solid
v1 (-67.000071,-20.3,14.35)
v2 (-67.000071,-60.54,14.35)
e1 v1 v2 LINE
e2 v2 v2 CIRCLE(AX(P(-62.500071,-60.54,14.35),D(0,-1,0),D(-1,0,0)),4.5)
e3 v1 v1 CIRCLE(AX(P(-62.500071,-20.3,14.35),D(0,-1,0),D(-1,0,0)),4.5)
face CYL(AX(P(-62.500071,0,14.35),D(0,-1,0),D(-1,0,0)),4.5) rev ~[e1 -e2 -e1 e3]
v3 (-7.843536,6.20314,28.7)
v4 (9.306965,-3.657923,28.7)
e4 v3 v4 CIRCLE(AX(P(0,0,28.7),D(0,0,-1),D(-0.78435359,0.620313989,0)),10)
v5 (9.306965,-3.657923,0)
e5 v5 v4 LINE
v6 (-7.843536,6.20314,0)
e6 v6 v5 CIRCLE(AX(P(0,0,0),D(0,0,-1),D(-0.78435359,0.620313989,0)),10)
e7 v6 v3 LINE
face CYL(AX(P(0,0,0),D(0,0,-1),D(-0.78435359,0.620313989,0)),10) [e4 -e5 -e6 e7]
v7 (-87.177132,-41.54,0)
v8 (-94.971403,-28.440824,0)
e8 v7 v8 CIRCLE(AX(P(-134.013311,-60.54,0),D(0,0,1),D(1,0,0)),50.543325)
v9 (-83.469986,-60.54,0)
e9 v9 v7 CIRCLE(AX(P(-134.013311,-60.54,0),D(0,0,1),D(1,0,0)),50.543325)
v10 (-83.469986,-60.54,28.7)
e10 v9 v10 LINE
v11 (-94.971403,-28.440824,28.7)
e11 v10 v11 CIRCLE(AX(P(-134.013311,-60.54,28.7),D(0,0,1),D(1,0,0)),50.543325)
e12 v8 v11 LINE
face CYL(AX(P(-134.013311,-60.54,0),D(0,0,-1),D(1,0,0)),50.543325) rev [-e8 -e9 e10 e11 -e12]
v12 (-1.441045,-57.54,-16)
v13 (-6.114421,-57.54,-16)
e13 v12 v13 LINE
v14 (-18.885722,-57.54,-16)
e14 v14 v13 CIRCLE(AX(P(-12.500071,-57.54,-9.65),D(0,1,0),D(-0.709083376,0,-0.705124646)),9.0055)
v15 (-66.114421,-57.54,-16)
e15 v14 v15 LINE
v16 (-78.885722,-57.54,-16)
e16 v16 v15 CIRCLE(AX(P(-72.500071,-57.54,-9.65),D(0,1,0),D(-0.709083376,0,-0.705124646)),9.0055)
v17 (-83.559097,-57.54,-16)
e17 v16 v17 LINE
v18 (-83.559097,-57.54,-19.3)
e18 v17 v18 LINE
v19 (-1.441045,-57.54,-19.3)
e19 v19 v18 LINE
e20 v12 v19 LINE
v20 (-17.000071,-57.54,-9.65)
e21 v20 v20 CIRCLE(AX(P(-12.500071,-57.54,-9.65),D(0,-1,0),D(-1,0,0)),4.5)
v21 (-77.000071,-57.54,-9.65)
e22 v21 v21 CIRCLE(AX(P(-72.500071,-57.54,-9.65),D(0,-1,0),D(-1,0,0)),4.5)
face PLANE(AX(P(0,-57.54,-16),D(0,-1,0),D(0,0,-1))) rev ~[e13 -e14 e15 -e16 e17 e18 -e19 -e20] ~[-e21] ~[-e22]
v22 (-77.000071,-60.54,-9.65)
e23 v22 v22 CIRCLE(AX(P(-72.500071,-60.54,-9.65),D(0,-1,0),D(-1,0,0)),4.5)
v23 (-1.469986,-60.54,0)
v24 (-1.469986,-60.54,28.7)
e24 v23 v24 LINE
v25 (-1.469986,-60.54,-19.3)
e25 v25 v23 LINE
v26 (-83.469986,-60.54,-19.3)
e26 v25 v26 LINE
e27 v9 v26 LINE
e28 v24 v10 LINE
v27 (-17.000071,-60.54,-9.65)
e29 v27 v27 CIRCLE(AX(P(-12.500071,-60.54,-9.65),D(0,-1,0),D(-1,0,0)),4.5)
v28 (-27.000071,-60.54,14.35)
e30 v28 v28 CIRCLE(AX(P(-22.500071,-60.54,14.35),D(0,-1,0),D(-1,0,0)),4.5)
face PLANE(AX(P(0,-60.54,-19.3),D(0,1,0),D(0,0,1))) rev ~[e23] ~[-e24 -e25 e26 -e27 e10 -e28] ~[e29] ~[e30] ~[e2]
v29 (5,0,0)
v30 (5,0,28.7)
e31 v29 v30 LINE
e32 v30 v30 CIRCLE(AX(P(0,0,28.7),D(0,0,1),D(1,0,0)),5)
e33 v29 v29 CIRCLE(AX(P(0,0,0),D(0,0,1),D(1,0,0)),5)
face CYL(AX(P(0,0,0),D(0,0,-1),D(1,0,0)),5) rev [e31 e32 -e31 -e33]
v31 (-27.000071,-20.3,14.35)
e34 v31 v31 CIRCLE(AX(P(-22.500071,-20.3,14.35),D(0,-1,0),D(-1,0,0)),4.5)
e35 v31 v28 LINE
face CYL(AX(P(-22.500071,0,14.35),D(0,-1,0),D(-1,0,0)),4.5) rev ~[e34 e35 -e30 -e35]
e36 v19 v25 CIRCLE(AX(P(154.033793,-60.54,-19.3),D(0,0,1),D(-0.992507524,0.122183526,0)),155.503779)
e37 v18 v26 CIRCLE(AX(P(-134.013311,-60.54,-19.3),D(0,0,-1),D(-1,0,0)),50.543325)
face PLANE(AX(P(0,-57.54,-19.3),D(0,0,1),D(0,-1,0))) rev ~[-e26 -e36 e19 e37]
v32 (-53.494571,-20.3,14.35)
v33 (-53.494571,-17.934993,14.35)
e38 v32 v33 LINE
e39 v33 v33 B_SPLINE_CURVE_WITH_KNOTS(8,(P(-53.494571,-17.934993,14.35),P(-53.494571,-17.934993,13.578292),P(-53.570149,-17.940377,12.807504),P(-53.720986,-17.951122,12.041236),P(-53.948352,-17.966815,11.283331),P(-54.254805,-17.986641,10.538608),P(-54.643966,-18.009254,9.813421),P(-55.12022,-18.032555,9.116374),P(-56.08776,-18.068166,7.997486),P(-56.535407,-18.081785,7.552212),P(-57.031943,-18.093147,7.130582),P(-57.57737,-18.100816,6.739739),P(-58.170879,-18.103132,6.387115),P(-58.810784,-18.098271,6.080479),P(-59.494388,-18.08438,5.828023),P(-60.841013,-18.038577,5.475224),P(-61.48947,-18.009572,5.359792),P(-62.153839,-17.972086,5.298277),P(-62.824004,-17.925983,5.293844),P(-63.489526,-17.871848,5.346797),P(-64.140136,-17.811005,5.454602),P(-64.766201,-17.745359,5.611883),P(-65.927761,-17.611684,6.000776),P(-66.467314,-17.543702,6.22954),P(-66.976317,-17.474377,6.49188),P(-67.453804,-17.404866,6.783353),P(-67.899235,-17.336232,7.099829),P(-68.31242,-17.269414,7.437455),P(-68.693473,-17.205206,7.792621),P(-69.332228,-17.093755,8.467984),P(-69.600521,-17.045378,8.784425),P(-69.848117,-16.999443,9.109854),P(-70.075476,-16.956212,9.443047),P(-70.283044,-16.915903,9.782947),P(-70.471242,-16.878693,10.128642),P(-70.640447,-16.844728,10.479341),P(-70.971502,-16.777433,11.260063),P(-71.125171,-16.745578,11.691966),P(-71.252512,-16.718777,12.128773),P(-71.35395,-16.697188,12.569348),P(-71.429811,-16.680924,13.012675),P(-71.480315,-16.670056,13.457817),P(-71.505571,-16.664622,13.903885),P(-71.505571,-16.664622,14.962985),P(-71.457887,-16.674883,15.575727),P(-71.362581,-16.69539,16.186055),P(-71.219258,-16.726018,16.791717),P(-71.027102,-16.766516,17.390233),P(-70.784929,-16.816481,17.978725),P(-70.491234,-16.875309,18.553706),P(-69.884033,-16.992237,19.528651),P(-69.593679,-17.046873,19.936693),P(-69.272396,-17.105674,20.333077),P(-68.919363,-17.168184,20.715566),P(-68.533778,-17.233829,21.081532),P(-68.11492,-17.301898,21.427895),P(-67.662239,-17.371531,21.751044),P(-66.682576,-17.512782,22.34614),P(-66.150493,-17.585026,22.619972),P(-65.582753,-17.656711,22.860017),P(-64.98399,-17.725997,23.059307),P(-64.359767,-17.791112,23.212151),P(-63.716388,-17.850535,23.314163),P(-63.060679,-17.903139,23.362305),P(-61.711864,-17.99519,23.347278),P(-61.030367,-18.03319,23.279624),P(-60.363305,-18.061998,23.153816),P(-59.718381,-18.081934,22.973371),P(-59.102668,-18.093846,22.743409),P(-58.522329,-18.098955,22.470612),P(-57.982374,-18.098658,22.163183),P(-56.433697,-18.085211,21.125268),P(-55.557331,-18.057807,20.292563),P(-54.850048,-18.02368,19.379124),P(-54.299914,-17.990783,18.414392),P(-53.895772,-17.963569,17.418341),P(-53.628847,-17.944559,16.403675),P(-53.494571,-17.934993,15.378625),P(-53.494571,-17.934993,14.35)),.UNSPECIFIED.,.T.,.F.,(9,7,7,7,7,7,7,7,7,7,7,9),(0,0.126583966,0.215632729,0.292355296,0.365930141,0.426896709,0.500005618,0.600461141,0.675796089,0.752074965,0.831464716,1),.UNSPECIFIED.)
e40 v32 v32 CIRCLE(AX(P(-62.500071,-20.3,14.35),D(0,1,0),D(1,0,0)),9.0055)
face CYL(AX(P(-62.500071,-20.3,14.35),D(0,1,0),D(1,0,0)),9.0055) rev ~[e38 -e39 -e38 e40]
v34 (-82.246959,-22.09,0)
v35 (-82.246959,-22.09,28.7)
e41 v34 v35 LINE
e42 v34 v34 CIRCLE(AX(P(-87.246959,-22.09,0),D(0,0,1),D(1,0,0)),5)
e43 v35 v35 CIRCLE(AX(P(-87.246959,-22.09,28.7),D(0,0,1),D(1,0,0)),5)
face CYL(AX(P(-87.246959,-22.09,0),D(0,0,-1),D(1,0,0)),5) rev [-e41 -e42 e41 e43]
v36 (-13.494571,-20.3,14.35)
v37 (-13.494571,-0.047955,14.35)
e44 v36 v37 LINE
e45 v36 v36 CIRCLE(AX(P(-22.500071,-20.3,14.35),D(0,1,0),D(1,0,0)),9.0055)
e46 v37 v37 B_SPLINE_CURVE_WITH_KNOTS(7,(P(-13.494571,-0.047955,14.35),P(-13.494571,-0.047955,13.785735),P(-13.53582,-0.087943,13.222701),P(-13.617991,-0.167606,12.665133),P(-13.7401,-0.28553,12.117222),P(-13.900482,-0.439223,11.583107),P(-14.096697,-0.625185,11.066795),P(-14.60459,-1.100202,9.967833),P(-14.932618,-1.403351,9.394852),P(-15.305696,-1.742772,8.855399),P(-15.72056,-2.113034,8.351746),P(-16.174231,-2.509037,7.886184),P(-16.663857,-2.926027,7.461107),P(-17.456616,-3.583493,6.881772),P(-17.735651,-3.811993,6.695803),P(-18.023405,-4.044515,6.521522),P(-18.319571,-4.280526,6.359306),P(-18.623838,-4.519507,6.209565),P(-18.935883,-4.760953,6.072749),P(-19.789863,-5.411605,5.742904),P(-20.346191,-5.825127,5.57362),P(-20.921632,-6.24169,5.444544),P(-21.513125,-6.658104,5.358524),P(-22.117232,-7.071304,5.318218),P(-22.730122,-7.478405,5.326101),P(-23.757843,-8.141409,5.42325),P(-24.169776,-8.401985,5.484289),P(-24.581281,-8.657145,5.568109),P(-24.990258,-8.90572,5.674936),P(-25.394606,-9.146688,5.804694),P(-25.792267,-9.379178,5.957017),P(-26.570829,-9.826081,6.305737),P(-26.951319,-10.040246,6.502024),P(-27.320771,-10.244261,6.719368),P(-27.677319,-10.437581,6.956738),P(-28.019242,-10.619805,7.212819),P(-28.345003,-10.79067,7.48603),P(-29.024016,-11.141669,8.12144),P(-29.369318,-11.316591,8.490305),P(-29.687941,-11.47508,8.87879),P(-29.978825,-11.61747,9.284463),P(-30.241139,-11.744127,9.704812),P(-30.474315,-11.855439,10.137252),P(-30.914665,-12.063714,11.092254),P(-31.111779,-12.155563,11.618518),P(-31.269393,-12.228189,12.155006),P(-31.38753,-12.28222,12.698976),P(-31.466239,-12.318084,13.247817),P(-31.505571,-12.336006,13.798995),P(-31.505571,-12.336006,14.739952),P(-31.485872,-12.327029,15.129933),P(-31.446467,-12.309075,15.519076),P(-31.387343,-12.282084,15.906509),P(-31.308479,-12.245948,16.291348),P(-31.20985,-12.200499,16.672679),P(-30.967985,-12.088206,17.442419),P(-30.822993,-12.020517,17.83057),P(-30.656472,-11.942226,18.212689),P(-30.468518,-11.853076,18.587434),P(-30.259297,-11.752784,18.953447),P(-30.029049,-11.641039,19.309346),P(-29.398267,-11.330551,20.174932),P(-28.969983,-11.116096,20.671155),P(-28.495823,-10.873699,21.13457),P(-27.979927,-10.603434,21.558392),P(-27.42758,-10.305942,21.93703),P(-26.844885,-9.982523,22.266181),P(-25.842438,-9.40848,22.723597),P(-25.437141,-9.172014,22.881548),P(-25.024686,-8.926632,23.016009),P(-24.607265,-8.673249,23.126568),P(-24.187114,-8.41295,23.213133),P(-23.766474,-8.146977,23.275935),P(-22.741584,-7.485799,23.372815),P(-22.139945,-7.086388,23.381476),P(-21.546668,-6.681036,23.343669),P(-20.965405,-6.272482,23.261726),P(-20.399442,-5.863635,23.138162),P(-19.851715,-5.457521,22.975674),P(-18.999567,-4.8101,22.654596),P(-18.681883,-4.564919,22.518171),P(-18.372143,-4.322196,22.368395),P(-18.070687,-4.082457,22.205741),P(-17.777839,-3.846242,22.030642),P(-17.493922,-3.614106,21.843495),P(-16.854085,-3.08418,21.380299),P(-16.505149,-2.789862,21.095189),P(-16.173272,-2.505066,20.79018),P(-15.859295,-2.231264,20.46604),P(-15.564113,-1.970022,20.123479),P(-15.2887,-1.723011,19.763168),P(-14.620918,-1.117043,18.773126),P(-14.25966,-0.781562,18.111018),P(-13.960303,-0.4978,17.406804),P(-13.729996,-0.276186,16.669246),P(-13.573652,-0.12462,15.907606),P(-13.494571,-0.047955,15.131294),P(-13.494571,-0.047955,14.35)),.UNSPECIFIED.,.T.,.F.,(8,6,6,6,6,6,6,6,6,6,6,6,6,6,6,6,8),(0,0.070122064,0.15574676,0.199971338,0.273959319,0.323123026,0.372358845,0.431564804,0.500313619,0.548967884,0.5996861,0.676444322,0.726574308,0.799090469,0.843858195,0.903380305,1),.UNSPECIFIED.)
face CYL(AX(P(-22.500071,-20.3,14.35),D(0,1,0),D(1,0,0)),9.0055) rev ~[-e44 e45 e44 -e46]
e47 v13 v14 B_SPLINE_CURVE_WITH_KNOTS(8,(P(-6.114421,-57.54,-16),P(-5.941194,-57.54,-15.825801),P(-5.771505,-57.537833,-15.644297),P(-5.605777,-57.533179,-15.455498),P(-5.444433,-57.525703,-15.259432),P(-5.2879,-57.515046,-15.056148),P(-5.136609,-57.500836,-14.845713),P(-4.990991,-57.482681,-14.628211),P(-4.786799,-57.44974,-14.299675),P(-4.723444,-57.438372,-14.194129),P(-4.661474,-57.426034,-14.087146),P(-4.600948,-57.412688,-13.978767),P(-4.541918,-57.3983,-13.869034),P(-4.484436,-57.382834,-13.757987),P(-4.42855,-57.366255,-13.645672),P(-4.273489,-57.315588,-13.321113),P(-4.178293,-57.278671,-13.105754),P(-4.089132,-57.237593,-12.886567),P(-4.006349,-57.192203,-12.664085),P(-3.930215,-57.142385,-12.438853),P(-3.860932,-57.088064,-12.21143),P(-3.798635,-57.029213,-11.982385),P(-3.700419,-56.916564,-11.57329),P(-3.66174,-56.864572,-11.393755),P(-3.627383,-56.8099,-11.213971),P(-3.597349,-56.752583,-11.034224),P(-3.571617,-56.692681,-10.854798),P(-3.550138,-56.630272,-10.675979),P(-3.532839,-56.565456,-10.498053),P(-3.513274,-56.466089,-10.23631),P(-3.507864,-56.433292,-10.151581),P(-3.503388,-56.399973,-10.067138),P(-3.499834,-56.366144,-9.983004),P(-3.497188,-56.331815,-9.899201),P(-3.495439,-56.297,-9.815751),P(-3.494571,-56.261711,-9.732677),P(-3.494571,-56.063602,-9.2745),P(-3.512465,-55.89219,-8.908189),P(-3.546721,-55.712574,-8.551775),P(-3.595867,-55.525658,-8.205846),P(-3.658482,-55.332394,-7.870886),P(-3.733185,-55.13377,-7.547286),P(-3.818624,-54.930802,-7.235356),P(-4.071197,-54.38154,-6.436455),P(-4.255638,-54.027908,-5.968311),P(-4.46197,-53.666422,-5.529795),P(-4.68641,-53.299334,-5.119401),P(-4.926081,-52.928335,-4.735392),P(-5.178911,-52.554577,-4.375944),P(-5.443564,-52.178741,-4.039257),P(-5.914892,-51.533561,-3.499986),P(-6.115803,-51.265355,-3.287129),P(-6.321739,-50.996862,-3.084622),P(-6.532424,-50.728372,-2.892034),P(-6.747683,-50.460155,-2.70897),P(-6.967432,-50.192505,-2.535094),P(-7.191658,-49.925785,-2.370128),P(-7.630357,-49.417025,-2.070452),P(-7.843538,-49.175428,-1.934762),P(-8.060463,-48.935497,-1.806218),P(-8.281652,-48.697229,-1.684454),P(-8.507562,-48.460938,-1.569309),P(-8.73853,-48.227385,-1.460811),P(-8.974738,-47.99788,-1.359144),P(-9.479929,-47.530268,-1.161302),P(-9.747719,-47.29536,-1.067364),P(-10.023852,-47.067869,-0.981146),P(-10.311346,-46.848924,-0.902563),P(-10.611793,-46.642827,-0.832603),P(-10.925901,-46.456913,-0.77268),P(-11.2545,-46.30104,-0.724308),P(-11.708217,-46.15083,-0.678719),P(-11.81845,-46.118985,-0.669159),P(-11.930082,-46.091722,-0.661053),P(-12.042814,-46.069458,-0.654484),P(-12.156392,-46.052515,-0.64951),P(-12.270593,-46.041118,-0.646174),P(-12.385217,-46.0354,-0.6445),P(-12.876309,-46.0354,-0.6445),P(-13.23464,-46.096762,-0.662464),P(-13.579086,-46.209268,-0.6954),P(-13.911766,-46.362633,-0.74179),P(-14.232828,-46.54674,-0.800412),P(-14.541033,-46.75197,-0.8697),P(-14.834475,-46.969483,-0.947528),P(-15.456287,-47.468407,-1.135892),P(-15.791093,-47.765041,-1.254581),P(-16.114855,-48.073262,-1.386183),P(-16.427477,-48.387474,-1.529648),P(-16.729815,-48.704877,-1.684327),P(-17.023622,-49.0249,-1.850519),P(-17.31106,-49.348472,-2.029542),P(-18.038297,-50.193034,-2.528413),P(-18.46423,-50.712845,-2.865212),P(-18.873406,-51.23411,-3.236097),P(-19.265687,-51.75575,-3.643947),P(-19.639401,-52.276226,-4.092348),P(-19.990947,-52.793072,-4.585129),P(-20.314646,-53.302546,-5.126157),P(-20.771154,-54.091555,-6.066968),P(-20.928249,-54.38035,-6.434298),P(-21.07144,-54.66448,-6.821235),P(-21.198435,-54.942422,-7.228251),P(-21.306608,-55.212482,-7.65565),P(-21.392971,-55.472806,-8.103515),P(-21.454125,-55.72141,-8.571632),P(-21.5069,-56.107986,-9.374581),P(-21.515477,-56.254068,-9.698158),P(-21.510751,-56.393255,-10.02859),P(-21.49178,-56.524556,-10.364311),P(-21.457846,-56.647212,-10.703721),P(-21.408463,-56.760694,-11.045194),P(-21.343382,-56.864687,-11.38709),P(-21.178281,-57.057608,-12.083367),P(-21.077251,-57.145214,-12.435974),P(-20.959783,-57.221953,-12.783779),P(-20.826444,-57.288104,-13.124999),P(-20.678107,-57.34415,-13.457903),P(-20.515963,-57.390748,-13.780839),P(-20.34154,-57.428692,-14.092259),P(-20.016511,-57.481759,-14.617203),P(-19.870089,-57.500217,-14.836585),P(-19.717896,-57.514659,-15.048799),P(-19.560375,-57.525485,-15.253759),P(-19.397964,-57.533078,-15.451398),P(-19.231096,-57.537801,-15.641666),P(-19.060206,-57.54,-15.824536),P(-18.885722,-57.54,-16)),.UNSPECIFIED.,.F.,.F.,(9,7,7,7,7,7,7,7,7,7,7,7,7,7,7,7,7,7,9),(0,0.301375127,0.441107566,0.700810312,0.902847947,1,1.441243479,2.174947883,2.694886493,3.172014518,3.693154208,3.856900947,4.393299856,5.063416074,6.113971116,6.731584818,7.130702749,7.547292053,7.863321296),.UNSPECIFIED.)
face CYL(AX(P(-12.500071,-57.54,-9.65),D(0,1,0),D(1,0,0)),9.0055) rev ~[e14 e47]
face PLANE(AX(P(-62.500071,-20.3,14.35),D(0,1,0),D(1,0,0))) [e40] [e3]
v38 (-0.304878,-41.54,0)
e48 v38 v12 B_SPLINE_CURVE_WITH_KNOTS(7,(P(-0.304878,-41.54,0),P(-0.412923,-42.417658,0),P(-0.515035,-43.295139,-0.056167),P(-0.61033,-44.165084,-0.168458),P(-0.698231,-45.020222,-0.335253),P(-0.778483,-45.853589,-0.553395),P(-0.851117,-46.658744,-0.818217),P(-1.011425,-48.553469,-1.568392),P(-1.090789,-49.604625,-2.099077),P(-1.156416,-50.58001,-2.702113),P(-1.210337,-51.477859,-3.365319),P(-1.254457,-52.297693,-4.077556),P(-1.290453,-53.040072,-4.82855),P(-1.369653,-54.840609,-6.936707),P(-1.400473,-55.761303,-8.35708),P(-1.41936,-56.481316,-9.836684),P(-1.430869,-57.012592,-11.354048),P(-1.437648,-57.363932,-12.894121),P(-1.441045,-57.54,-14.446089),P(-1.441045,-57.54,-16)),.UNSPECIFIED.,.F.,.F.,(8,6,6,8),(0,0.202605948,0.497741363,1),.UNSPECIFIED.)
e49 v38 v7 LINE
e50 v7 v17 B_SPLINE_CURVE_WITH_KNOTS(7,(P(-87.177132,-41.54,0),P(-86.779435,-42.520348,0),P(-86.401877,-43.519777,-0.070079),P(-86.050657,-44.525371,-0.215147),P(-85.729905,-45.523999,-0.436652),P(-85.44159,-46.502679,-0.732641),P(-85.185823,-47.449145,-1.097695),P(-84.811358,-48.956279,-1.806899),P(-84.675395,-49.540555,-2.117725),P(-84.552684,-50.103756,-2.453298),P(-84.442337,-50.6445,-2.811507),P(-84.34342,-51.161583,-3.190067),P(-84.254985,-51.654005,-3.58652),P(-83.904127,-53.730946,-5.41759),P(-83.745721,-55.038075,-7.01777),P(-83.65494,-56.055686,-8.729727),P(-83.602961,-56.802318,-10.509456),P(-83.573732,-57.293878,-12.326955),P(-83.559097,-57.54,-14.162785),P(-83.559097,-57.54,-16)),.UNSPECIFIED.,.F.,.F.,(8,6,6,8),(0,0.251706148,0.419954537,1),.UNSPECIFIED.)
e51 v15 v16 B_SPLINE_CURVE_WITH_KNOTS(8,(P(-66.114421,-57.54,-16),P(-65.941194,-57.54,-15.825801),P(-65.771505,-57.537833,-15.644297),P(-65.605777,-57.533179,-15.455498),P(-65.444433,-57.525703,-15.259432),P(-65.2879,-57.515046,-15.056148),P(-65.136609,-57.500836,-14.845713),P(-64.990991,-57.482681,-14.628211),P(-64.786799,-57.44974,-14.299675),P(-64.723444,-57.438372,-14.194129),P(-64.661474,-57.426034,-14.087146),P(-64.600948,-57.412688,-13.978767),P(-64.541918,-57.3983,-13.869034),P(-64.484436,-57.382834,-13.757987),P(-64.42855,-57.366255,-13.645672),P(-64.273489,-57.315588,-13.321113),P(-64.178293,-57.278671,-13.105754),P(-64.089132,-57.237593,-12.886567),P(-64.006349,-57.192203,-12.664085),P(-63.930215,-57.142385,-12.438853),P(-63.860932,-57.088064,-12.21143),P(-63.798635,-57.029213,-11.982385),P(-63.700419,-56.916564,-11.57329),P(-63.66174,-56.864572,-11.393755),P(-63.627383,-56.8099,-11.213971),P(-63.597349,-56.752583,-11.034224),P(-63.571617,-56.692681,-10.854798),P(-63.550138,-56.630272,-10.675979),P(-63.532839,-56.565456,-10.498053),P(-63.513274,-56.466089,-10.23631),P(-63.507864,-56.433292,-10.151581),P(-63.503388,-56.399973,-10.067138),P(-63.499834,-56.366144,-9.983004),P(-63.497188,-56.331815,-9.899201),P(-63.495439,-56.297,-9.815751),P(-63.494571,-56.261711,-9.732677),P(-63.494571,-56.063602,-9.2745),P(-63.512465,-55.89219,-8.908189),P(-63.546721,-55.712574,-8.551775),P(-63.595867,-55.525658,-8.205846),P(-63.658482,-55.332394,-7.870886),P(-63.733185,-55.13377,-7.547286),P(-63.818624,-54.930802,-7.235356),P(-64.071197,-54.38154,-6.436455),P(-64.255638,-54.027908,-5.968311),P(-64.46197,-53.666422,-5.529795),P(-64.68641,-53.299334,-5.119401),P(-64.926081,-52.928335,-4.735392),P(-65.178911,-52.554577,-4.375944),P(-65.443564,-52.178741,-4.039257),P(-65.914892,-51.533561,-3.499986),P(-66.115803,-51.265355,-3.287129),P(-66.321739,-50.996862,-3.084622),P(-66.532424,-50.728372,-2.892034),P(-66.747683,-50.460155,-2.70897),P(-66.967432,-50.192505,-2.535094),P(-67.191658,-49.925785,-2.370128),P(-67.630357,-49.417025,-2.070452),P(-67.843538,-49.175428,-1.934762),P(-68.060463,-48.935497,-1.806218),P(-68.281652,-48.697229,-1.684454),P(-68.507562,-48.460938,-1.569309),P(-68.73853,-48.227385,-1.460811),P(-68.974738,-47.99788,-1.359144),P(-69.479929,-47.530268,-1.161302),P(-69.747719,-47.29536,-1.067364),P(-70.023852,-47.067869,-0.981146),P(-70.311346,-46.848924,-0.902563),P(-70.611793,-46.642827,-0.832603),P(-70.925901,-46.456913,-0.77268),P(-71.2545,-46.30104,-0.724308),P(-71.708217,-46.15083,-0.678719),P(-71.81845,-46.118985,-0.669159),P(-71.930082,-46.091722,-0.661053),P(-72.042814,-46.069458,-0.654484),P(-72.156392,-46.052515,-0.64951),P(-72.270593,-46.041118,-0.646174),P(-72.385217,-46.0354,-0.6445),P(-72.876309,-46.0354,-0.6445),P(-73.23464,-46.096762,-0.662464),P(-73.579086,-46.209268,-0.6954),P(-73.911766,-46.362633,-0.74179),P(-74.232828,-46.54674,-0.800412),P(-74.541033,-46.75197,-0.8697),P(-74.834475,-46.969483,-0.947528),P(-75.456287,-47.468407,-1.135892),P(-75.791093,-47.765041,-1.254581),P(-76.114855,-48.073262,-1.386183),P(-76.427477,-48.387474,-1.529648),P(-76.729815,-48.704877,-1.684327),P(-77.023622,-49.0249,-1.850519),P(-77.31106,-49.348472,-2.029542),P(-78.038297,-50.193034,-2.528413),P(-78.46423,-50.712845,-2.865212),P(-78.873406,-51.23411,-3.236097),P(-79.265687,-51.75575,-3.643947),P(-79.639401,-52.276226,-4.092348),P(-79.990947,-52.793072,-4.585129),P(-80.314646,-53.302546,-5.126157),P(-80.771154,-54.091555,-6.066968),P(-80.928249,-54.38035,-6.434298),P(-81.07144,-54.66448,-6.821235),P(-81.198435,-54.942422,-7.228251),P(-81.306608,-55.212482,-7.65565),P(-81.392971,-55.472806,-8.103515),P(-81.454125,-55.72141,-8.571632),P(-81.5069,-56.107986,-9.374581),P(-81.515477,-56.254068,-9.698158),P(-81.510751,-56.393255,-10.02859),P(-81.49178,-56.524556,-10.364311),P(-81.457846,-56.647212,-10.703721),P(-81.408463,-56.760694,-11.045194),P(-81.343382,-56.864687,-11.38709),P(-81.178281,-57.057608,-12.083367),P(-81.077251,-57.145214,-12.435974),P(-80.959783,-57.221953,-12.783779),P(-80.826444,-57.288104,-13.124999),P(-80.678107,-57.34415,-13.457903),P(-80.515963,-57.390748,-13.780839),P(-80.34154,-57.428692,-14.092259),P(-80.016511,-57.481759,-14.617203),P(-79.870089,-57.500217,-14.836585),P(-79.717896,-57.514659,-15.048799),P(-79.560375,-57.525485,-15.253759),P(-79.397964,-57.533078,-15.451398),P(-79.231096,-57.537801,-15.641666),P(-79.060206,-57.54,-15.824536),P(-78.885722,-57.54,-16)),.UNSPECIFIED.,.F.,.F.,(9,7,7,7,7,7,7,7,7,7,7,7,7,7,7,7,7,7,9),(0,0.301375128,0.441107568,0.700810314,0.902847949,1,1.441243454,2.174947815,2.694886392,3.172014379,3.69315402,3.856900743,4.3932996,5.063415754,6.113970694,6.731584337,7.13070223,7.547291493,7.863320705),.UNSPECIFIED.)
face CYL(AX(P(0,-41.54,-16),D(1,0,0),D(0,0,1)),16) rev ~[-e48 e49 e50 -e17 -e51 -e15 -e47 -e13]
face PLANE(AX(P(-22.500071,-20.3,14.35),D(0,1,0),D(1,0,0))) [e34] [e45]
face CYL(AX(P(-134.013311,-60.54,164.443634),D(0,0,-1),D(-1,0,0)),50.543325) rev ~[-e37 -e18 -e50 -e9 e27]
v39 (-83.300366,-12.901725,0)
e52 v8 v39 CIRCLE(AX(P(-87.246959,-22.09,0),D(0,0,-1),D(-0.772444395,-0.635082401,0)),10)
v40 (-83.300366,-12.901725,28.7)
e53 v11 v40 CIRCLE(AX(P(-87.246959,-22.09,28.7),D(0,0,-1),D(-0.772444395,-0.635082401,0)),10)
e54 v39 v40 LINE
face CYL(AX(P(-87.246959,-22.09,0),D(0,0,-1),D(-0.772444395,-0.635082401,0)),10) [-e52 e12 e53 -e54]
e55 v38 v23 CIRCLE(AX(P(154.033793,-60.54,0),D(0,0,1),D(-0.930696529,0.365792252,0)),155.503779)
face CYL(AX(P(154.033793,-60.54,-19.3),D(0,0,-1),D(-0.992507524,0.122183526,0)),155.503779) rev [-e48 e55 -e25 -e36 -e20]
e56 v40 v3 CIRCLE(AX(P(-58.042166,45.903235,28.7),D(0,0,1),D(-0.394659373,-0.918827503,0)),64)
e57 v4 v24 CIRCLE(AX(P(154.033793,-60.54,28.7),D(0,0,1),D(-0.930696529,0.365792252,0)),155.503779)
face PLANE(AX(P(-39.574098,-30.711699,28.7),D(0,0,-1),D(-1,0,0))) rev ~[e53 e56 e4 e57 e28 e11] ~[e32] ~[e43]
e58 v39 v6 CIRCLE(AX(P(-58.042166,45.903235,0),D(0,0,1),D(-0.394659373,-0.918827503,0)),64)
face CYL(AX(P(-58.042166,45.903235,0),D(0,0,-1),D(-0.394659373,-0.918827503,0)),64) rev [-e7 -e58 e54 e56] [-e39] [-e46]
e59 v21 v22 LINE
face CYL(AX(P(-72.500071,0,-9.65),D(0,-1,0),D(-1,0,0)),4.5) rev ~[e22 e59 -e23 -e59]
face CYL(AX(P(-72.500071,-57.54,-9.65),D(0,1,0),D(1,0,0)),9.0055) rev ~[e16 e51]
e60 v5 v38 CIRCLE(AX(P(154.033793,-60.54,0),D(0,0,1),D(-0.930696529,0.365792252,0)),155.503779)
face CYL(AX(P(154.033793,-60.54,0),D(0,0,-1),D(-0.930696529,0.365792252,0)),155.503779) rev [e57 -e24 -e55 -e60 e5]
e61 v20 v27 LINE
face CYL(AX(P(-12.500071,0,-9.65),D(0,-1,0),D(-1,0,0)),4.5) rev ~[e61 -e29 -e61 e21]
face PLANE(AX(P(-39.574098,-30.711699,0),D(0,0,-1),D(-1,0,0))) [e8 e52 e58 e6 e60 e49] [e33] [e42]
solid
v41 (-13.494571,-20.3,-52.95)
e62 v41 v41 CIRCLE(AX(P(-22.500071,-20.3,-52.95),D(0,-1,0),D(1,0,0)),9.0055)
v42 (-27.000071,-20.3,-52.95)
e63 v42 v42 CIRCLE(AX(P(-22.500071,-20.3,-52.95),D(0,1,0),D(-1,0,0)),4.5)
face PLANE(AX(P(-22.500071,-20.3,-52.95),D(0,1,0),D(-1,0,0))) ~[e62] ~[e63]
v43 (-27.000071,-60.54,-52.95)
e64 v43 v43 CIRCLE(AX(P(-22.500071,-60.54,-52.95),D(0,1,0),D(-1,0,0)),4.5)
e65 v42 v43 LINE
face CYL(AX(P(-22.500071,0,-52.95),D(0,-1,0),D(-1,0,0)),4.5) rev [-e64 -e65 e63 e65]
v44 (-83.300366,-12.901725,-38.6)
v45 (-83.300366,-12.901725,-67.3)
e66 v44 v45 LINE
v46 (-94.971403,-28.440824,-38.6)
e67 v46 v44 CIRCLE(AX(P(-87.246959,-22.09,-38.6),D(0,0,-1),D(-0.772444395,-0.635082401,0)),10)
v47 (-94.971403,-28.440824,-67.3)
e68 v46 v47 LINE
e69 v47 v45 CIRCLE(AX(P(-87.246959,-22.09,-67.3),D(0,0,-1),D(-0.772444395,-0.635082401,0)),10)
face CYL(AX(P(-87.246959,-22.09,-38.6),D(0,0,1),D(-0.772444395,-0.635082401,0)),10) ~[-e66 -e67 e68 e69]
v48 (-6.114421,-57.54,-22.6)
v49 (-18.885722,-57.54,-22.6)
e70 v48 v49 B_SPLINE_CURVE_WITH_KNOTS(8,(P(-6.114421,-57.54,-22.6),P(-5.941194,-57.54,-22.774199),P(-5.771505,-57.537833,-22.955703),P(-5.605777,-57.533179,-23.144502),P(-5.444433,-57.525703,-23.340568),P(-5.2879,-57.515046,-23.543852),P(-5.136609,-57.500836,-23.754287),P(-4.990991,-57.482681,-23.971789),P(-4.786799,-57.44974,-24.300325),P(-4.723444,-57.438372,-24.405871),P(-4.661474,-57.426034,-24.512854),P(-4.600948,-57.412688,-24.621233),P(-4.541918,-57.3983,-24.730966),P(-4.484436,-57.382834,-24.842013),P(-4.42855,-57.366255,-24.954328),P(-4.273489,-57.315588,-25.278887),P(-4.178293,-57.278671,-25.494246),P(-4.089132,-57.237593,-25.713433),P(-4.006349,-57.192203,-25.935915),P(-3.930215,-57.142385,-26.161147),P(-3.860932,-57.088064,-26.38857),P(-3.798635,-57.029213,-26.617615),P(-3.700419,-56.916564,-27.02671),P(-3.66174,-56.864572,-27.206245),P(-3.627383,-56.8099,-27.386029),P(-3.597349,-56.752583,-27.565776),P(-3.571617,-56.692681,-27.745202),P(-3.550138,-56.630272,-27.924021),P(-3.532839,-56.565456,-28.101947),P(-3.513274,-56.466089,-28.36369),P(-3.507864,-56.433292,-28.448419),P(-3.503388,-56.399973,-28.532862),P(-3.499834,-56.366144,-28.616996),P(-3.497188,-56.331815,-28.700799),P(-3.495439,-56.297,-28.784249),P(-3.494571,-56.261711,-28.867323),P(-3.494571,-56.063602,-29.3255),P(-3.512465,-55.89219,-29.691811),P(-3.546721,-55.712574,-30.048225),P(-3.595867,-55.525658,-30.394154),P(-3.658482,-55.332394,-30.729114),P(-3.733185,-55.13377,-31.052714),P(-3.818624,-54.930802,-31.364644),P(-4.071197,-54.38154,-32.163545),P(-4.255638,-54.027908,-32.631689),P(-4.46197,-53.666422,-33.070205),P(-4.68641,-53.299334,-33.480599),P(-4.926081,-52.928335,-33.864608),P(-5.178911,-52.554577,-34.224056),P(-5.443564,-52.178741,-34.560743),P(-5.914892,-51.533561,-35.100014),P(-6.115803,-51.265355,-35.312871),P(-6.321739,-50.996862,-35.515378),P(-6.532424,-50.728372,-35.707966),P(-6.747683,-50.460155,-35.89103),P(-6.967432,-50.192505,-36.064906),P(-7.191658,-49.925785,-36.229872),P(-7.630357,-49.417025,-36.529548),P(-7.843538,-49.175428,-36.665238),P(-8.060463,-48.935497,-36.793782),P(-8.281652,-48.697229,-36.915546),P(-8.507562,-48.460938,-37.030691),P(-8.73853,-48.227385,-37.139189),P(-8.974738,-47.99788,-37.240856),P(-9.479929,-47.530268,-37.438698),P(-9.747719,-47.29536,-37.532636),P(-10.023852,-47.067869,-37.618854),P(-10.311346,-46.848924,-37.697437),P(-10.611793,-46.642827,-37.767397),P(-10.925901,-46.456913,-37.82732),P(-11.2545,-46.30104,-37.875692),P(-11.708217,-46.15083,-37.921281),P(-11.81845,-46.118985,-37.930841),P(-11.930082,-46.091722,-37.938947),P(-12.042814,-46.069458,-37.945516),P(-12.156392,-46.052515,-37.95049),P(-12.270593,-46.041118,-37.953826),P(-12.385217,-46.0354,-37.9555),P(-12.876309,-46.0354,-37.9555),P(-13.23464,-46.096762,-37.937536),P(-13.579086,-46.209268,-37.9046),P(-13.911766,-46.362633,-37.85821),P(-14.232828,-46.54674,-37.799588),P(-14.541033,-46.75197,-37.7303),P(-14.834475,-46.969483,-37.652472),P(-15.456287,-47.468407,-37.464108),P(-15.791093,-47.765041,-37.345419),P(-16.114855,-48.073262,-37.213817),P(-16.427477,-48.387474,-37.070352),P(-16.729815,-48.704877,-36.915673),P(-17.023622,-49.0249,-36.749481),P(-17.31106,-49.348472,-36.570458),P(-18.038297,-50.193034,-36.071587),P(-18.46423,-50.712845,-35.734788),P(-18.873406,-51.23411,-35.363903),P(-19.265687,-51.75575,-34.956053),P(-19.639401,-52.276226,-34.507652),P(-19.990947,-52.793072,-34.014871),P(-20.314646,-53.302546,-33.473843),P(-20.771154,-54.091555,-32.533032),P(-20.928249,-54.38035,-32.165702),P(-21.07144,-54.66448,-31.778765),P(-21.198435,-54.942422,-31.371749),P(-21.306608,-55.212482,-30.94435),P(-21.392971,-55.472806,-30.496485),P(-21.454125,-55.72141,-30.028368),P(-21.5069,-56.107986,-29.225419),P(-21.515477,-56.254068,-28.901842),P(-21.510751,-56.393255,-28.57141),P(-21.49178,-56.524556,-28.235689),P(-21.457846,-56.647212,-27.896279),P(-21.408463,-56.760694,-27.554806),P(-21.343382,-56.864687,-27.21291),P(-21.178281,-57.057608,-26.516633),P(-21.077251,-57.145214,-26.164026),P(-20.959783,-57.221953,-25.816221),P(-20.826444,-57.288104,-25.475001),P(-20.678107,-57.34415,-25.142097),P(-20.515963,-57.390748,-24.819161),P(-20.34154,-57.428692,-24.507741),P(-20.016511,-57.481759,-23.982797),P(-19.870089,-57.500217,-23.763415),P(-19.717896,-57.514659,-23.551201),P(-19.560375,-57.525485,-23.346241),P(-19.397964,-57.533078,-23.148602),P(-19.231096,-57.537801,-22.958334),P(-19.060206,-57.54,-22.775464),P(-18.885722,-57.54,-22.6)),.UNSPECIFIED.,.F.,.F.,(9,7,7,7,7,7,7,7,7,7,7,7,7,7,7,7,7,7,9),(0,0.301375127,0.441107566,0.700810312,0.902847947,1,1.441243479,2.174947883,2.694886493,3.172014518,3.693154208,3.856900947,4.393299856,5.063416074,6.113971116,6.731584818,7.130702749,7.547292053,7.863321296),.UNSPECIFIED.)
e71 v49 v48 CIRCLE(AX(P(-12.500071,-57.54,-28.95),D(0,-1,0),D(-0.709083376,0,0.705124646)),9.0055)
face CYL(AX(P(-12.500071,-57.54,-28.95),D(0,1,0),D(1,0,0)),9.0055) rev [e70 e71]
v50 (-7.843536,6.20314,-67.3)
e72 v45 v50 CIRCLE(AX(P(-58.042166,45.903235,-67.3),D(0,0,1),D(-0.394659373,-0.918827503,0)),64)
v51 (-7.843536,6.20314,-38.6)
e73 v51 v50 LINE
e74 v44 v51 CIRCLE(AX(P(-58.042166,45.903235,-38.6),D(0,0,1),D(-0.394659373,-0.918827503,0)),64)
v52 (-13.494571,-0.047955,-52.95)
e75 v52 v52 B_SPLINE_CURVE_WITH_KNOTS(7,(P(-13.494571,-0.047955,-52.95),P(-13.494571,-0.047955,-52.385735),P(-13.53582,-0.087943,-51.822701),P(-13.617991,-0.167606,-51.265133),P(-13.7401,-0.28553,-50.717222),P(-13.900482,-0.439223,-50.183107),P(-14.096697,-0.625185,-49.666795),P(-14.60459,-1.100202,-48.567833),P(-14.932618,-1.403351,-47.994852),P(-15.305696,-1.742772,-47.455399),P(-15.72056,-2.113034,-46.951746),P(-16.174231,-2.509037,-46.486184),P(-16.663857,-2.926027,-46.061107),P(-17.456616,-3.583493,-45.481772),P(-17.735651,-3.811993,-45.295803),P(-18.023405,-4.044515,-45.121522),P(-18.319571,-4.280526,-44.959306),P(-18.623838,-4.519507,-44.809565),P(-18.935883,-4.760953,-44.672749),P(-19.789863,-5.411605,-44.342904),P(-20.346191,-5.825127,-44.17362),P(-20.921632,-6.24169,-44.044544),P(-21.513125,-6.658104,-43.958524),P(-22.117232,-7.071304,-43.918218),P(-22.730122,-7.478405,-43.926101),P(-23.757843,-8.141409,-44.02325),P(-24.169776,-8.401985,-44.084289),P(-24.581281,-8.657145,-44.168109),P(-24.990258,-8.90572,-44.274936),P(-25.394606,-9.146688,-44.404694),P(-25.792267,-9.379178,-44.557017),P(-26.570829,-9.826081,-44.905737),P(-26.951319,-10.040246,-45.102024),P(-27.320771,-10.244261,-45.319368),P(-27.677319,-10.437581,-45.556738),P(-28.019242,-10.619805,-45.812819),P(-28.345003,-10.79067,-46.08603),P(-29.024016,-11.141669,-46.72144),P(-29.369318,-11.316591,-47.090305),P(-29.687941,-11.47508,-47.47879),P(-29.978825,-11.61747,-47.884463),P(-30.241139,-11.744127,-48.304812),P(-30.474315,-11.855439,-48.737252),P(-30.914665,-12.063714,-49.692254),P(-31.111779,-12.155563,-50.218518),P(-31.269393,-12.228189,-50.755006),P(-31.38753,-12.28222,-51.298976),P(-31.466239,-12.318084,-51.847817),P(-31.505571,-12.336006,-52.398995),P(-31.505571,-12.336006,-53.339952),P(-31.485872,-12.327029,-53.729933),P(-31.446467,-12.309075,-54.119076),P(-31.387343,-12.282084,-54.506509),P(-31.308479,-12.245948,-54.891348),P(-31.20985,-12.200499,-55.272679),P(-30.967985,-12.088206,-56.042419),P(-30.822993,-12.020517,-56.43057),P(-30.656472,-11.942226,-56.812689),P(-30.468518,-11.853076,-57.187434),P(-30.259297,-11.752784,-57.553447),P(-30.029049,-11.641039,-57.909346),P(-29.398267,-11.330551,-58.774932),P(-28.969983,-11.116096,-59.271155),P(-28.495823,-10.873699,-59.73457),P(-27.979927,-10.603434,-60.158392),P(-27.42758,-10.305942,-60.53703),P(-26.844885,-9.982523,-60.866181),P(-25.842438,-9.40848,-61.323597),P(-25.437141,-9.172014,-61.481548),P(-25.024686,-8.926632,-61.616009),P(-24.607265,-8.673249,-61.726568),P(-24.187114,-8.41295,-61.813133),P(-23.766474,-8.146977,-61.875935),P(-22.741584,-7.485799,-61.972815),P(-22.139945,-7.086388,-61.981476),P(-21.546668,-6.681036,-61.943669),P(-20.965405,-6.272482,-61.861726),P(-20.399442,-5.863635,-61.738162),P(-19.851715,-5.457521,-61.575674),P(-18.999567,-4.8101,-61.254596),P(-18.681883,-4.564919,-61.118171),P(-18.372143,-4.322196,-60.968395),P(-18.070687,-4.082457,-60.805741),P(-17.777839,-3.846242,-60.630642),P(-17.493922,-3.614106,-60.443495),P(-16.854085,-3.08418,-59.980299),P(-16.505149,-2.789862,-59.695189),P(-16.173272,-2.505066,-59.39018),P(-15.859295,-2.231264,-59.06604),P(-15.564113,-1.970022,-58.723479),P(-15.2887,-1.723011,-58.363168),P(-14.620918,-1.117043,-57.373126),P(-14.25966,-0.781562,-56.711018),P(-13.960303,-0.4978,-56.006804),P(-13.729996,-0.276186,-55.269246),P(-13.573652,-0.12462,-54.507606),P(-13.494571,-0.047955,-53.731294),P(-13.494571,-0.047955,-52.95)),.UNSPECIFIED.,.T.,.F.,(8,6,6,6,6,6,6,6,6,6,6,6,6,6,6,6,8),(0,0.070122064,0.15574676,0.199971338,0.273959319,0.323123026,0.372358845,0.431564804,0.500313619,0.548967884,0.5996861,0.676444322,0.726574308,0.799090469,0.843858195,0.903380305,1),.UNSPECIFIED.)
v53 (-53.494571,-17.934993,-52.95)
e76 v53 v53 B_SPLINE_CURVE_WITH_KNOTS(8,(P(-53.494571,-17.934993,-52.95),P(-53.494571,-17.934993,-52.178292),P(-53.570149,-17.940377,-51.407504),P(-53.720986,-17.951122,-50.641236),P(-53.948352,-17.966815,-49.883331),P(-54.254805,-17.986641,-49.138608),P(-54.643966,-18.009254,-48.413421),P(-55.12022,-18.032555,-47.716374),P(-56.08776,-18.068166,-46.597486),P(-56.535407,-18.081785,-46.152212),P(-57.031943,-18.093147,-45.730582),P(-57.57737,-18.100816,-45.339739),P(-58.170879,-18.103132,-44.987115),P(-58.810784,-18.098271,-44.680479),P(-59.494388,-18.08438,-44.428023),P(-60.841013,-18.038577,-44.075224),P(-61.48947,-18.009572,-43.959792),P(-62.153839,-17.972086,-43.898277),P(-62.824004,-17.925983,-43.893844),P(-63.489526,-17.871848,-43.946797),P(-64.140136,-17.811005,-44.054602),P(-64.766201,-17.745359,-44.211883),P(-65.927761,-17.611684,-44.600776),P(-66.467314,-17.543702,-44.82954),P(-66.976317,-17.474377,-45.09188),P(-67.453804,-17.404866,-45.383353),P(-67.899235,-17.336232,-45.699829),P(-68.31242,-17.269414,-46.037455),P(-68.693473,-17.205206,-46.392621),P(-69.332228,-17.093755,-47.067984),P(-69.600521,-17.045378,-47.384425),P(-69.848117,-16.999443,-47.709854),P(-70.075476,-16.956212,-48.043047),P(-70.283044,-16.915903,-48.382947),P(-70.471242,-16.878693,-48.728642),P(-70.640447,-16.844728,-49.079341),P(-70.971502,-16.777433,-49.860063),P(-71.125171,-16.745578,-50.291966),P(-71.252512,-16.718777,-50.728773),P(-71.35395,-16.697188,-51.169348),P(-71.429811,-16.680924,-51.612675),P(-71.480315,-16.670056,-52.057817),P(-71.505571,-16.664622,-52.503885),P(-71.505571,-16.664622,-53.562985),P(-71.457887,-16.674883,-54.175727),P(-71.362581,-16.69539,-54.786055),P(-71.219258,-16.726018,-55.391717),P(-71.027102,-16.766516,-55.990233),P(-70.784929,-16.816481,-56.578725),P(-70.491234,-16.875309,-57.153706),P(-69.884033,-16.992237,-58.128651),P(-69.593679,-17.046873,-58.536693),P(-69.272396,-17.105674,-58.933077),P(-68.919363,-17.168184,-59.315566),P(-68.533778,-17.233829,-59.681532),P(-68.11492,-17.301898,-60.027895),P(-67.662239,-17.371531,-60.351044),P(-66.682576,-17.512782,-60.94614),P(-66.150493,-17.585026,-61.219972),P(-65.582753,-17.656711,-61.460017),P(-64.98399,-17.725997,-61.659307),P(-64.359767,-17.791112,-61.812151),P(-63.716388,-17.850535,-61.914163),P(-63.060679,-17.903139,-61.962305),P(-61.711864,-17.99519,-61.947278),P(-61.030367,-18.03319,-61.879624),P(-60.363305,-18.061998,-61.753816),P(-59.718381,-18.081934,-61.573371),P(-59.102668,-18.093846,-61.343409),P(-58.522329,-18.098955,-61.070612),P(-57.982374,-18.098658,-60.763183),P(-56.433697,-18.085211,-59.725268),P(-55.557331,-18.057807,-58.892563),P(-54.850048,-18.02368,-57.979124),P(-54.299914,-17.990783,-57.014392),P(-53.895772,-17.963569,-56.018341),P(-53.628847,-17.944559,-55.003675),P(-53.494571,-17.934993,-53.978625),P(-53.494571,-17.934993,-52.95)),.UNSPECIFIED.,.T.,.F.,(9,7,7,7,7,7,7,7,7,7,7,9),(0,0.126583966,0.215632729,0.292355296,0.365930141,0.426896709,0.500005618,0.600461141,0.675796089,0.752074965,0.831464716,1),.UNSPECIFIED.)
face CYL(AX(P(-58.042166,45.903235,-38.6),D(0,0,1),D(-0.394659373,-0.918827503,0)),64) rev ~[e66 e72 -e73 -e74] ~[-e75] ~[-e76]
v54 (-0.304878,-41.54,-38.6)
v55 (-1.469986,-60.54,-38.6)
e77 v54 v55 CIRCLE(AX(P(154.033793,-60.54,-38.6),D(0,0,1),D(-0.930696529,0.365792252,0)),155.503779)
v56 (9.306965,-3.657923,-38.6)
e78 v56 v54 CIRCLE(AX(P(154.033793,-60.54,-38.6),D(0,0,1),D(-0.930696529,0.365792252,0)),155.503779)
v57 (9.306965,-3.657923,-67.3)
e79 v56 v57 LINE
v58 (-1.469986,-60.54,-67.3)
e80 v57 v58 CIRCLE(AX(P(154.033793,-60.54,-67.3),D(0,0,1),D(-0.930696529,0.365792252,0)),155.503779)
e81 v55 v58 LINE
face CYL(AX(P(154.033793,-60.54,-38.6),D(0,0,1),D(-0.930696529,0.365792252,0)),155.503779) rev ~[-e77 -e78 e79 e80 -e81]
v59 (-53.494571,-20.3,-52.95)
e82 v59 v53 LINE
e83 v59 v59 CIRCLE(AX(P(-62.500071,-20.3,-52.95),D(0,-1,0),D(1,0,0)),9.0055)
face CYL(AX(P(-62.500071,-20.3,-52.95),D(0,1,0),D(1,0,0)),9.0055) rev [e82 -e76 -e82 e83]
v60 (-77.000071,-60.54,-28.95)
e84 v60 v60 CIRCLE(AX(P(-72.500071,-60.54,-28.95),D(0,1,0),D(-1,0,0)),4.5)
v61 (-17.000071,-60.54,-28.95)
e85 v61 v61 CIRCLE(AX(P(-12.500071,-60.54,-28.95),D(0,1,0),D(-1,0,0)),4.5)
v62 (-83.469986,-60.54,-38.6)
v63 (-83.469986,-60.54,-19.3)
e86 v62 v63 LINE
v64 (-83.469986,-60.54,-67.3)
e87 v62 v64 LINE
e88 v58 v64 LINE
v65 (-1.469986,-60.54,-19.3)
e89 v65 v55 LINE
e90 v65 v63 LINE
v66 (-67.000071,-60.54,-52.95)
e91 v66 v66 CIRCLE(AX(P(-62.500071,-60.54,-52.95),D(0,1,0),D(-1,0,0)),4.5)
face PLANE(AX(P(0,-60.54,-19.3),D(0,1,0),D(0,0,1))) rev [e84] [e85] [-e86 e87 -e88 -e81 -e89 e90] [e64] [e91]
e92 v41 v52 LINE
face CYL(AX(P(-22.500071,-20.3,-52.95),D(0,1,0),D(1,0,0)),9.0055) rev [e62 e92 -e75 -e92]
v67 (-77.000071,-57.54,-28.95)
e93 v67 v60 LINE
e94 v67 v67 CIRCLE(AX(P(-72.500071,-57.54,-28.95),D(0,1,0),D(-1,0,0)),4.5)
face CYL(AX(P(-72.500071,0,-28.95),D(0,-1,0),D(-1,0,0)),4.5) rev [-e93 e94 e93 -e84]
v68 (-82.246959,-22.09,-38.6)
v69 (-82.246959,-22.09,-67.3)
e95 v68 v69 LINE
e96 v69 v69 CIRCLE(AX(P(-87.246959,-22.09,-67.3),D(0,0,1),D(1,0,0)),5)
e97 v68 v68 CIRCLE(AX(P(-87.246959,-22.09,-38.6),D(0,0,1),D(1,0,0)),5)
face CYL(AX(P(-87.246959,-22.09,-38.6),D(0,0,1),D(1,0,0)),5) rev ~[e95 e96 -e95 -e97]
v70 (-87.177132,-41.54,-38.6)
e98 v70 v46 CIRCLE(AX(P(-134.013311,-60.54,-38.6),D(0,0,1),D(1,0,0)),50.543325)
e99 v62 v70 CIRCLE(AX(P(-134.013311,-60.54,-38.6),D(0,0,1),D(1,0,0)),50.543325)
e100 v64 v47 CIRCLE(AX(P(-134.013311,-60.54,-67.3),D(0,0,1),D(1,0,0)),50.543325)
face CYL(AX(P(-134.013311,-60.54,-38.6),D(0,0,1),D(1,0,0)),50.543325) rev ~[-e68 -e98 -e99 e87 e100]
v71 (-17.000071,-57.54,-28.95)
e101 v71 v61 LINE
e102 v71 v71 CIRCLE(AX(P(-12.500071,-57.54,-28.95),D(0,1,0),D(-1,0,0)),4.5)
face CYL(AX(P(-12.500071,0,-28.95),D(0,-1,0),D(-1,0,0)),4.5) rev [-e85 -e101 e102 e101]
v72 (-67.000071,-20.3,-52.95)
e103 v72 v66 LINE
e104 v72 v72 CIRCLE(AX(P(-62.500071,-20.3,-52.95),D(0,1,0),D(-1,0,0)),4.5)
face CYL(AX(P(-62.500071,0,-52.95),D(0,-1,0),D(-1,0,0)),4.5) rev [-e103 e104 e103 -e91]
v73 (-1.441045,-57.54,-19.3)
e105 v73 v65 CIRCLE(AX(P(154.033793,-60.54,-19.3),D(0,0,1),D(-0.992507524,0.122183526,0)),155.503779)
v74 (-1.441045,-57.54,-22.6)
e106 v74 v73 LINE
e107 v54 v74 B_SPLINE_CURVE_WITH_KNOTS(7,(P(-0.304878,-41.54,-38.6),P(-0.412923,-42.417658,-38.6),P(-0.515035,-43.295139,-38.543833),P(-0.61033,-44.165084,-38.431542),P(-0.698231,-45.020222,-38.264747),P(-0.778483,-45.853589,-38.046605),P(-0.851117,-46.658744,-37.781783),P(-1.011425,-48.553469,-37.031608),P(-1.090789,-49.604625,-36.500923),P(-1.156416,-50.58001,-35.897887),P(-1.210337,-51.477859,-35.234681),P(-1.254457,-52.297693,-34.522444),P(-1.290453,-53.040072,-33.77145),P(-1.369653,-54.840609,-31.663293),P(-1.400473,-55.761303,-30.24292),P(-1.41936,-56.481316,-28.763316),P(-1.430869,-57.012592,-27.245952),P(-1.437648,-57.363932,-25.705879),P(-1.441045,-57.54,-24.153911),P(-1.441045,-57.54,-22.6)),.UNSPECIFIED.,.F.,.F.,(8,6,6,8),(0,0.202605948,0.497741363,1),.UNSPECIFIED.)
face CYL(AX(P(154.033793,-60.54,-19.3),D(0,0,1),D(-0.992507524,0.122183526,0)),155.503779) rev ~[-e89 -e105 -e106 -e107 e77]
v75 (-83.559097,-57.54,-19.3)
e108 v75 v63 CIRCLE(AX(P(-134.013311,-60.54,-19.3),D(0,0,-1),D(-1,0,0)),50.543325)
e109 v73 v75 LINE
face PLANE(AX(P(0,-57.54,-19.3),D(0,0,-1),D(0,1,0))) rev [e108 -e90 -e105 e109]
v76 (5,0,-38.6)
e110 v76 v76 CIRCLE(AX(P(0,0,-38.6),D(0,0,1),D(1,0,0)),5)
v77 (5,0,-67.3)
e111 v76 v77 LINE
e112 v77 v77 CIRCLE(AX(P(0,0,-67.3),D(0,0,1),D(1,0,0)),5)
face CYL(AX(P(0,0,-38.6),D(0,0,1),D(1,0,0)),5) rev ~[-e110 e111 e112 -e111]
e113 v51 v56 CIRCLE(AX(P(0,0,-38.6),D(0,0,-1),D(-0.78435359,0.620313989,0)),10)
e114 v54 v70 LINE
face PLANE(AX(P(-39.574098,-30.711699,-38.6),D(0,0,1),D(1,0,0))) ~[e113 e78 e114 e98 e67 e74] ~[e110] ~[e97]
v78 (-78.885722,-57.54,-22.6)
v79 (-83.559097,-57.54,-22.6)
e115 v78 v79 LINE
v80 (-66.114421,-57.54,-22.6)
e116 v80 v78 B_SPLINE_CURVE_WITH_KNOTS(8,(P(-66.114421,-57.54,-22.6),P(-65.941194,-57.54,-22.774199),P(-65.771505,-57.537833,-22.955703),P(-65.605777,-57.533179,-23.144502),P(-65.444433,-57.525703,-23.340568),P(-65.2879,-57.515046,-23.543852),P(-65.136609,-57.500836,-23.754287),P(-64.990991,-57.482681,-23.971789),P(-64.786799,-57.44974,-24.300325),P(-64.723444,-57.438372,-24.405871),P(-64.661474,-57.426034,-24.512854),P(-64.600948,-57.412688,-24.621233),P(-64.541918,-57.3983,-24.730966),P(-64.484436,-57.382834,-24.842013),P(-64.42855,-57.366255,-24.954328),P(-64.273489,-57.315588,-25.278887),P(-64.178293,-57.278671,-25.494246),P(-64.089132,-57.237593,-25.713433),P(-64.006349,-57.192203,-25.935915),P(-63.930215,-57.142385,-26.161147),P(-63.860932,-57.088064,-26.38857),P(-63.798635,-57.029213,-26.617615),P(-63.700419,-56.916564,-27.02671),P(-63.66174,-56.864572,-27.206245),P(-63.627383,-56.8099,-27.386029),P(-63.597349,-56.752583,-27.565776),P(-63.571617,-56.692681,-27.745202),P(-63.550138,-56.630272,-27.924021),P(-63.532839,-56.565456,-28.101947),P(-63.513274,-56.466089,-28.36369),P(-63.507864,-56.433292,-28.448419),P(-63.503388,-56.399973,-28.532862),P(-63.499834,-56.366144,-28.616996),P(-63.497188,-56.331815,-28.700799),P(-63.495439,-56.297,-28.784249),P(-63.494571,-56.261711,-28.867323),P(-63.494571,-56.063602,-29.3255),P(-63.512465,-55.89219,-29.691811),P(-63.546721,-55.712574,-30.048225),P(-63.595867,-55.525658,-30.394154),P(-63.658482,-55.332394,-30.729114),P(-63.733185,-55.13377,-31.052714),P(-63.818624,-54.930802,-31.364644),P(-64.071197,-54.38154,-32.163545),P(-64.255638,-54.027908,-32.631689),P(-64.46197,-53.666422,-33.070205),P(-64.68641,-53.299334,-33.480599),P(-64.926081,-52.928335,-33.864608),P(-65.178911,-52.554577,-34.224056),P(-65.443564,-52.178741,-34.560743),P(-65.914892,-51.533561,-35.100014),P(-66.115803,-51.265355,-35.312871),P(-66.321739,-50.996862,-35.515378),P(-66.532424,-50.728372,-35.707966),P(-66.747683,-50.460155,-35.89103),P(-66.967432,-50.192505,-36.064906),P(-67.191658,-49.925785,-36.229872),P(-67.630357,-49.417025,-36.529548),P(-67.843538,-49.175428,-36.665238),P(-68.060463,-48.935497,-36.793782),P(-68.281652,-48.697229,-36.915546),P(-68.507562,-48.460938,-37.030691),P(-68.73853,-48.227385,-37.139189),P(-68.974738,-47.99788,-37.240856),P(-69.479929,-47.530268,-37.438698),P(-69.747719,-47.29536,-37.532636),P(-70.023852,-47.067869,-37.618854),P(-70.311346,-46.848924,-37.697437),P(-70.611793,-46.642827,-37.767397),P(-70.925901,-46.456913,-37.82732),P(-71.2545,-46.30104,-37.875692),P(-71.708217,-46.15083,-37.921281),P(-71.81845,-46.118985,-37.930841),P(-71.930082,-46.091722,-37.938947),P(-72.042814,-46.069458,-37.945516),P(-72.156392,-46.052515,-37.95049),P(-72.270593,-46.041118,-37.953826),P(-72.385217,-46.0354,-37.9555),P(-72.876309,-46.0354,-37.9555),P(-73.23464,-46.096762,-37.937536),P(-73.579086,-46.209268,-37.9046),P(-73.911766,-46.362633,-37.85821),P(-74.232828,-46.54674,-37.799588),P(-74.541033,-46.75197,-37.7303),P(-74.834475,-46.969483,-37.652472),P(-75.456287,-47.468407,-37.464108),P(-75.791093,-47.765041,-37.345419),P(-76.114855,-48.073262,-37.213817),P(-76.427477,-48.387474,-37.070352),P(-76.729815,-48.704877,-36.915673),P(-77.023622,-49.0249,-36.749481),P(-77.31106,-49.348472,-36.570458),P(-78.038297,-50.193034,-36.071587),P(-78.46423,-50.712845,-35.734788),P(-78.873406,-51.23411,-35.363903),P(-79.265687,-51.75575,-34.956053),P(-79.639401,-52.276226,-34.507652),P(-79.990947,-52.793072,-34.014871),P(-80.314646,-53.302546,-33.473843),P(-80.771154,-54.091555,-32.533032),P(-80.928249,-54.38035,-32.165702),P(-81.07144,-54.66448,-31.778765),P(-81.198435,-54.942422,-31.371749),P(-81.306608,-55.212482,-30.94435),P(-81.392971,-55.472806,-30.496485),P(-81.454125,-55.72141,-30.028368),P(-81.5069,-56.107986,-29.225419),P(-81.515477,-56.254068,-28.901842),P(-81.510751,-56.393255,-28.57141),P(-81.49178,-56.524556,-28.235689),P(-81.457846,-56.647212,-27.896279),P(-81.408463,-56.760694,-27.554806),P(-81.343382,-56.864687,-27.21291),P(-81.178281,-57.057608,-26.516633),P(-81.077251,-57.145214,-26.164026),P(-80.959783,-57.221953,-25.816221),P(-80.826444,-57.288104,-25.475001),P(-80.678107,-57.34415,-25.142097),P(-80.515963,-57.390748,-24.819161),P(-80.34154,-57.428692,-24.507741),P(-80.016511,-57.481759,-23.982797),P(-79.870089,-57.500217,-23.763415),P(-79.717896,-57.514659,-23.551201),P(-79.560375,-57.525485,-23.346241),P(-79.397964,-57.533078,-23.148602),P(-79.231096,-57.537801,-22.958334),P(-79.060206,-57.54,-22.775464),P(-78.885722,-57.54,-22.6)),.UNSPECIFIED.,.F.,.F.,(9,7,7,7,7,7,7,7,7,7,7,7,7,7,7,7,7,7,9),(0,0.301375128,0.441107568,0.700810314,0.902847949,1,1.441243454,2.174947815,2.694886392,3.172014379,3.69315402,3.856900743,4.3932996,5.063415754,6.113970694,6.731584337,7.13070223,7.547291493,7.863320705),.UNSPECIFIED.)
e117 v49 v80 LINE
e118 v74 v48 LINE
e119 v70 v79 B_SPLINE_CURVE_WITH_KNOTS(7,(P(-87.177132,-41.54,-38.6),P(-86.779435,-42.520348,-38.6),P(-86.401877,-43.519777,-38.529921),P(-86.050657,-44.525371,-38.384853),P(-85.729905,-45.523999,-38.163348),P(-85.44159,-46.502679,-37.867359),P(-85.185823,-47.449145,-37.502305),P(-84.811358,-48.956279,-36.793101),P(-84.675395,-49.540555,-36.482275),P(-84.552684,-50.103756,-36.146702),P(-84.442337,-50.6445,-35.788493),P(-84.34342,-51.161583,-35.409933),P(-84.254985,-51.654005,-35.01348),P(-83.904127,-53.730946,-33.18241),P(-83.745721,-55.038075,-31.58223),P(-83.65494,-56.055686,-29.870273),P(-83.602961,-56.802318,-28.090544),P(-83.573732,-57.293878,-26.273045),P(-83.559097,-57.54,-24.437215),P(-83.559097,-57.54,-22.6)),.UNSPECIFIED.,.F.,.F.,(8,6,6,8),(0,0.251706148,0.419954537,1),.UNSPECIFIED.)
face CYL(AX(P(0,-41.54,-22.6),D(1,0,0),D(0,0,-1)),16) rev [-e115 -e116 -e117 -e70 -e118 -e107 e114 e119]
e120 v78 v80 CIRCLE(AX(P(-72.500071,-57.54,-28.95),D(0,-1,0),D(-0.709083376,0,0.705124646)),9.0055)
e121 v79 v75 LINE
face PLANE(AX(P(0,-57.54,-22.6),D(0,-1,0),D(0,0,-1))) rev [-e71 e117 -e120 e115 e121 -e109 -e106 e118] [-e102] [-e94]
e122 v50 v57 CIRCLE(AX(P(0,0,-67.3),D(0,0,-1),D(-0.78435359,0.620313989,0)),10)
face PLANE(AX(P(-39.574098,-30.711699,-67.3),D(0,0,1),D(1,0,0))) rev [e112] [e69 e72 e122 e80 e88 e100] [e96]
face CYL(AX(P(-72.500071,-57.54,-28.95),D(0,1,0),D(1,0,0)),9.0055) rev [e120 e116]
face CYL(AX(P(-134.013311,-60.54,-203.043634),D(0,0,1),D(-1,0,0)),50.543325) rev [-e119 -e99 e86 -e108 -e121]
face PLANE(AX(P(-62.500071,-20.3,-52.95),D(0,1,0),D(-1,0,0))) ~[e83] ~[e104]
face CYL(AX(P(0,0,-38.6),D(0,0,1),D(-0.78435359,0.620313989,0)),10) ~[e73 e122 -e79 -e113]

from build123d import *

# Parameters (mm, degrees)
SZKIC1_R                                            = 5
DODANIE_WYCI_GNI_CIE1_DEPTH                         = 28.7
DODANIE_WYCI_GNI_CIE2_REACH                         = 120.092
DODANIE_WYCI_GNI_CIE2_END_RADIUS                    = 50.543324632
WYTNIJ_WYCI_GNI_CIE1_START                          = -19.3
WYTNIJ_WYCI_GNI_CIE1_DEPTH                          = 19.3
POG_BIENIE_WALCOWE_POD_M8_WKR_T_Z_BEM_S_D           = 9
POG_BIENIE_WALCOWE_POD_M8_WKR_T_Z_BEM_S_CBORE_D     = 18.011
POG_BIENIE_WALCOWE_POD_M8_WKR_T_Z_BEM_S_CBORE_DEPTH = 20.3
POG_BIENIE_WALCOWE_POD_M8_WKR_T_Z_B_2_D             = 9
POG_BIENIE_WALCOWE_POD_M8_WKR_T_Z_B_2_CBORE_D       = 18.011
POG_BIENIE_WALCOWE_POD_M8_WKR_T_Z_B_2_CBORE_DEPTH   = 57.54


with BuildPart() as part:
    # Szkic1 → Dodanie-wyciągnięcie1 (new body)
    with BuildSketch(Plane.XY):
        with BuildLine():
            Line((-1.469986393, -60.54), (-83.469986393, -60.54))
            ThreePointArc((-83.469986393, -60.54), (-86.43214098, -43.49124867), (-94.971403209, -28.440824015))
            ThreePointArc((-94.971403209, -28.440824015), (-95.242829308, -16.084497343), (-83.300365534, -12.901724973))
            ThreePointArc((-83.300365534, -12.901724973), (-42.333721248, -16.139046942), (-7.843535904, 6.203139892))
            ThreePointArc((-7.843535904, 6.203139892), (4.984530504, 8.669166953), (9.306965288, -3.657922516))
            ThreePointArc((9.306965288, -3.657922516), (1.248004894, -31.593007814), (-1.469986393, -60.54))
        make_face()
        with Locations((-87.246959259, -22.09)):
            Circle(SZKIC1_R, mode=Mode.SUBTRACT)
        Circle(SZKIC1_R, mode=Mode.SUBTRACT)
    extrude(amount=DODANIE_WYCI_GNI_CIE1_DEPTH)

    # Dodanie-wyciągnięcie2: up to this cylinder (the profile starts outside it)
    dodanie_wyci_gni_cie2_end = Plane(origin=(-134.013311026, -60.54, -6.691691), z_dir=(0, 0, -1)) * Cylinder(DODANIE_WYCI_GNI_CIE2_END_RADIUS, 342.270649265, mode=Mode.PRIVATE)
    # Szkic3 → Dodanie-wyciągnięcie2 (add, up to the surface)
    with BuildSketch(Plane(origin=(0, 0, 0), x_dir=(0, 0, -1), z_dir=(1, 0, 0)), mode=Mode.PRIVATE) as dodanie_wyci_gni_cie2_sk1:
        with BuildLine():
            Line((0, -60.54), (0, -41.54))
            ThreePointArc((0, -41.54), (4.686291501, -52.853708499), (16, -57.54))
            Line((16, -57.54), (19.3, -57.54))
            Line((19.3, -57.54), (19.3, -60.54))
            Line((19.3, -60.54), (0, -60.54))
        make_face()
    dodanie_wyci_gni_cie2_tool1 = extrude(dodanie_wyci_gni_cie2_sk1.sketch, amount=-DODANIE_WYCI_GNI_CIE2_REACH, mode=Mode.PRIVATE) - dodanie_wyci_gni_cie2_end
    add(dodanie_wyci_gni_cie2_tool1.solids().sort_by_distance((0, -56.56965, -6.691691))[0])

    # Szkic4 → Wytnij-wyciągnięcie1 (cut)
    with BuildSketch(Plane.XY.offset(WYTNIJ_WYCI_GNI_CIE1_START)):
        with BuildLine():
            Line((-1.469986393, -60.54), (0, -60.54))
            Line((0, -60.54), (0, -41.54))
            Line((0, -41.54), (-0.304878126, -41.54))
            ThreePointArc((-0.304878126, -41.54), (-1.178436016, -51.022155217), (-1.469986393, -60.54))
        make_face()
    extrude(amount=WYTNIJ_WYCI_GNI_CIE1_DEPTH, mode=Mode.SUBTRACT)

    # Pog_bienie walcowe pod M8 Wkr_t z _bem s (through all)
    with Locations(Plane(origin=(0, 0, 0), x_dir=(1, 0, 0), z_dir=(0, 1, 0))):
        with Locations((-62.500071487, -14.35), (-22.500071487, -14.35)):
            CounterBoreHole(POG_BIENIE_WALCOWE_POD_M8_WKR_T_Z_BEM_S_D / 2, POG_BIENIE_WALCOWE_POD_M8_WKR_T_Z_BEM_S_CBORE_D / 2, POG_BIENIE_WALCOWE_POD_M8_WKR_T_Z_BEM_S_CBORE_DEPTH)

    # Pog_bienie walcowe pod M8 Wkr_t z _b 2 (through all)
    with Locations(Plane(origin=(0, 0, 0), x_dir=(1, 0, 0), z_dir=(0, 1, 0))):
        with Locations((-72.500071487, 9.65), (-12.500071487, 9.65)):
            CounterBoreHole(POG_BIENIE_WALCOWE_POD_M8_WKR_T_Z_B_2_D / 2, POG_BIENIE_WALCOWE_POD_M8_WKR_T_Z_B_2_CBORE_D / 2, POG_BIENIE_WALCOWE_POD_M8_WKR_T_Z_B_2_CBORE_DEPTH)


with BuildPart() as body_2:
    # Lustro2: mirrored copy
    add(part.part.mirror(Plane(origin=(-97.247959259, -57.54, -19.3), x_dir=(1, 0, 0), z_dir=(0, 0, -1))))


solid = Compound([part.part, body_2.part])
